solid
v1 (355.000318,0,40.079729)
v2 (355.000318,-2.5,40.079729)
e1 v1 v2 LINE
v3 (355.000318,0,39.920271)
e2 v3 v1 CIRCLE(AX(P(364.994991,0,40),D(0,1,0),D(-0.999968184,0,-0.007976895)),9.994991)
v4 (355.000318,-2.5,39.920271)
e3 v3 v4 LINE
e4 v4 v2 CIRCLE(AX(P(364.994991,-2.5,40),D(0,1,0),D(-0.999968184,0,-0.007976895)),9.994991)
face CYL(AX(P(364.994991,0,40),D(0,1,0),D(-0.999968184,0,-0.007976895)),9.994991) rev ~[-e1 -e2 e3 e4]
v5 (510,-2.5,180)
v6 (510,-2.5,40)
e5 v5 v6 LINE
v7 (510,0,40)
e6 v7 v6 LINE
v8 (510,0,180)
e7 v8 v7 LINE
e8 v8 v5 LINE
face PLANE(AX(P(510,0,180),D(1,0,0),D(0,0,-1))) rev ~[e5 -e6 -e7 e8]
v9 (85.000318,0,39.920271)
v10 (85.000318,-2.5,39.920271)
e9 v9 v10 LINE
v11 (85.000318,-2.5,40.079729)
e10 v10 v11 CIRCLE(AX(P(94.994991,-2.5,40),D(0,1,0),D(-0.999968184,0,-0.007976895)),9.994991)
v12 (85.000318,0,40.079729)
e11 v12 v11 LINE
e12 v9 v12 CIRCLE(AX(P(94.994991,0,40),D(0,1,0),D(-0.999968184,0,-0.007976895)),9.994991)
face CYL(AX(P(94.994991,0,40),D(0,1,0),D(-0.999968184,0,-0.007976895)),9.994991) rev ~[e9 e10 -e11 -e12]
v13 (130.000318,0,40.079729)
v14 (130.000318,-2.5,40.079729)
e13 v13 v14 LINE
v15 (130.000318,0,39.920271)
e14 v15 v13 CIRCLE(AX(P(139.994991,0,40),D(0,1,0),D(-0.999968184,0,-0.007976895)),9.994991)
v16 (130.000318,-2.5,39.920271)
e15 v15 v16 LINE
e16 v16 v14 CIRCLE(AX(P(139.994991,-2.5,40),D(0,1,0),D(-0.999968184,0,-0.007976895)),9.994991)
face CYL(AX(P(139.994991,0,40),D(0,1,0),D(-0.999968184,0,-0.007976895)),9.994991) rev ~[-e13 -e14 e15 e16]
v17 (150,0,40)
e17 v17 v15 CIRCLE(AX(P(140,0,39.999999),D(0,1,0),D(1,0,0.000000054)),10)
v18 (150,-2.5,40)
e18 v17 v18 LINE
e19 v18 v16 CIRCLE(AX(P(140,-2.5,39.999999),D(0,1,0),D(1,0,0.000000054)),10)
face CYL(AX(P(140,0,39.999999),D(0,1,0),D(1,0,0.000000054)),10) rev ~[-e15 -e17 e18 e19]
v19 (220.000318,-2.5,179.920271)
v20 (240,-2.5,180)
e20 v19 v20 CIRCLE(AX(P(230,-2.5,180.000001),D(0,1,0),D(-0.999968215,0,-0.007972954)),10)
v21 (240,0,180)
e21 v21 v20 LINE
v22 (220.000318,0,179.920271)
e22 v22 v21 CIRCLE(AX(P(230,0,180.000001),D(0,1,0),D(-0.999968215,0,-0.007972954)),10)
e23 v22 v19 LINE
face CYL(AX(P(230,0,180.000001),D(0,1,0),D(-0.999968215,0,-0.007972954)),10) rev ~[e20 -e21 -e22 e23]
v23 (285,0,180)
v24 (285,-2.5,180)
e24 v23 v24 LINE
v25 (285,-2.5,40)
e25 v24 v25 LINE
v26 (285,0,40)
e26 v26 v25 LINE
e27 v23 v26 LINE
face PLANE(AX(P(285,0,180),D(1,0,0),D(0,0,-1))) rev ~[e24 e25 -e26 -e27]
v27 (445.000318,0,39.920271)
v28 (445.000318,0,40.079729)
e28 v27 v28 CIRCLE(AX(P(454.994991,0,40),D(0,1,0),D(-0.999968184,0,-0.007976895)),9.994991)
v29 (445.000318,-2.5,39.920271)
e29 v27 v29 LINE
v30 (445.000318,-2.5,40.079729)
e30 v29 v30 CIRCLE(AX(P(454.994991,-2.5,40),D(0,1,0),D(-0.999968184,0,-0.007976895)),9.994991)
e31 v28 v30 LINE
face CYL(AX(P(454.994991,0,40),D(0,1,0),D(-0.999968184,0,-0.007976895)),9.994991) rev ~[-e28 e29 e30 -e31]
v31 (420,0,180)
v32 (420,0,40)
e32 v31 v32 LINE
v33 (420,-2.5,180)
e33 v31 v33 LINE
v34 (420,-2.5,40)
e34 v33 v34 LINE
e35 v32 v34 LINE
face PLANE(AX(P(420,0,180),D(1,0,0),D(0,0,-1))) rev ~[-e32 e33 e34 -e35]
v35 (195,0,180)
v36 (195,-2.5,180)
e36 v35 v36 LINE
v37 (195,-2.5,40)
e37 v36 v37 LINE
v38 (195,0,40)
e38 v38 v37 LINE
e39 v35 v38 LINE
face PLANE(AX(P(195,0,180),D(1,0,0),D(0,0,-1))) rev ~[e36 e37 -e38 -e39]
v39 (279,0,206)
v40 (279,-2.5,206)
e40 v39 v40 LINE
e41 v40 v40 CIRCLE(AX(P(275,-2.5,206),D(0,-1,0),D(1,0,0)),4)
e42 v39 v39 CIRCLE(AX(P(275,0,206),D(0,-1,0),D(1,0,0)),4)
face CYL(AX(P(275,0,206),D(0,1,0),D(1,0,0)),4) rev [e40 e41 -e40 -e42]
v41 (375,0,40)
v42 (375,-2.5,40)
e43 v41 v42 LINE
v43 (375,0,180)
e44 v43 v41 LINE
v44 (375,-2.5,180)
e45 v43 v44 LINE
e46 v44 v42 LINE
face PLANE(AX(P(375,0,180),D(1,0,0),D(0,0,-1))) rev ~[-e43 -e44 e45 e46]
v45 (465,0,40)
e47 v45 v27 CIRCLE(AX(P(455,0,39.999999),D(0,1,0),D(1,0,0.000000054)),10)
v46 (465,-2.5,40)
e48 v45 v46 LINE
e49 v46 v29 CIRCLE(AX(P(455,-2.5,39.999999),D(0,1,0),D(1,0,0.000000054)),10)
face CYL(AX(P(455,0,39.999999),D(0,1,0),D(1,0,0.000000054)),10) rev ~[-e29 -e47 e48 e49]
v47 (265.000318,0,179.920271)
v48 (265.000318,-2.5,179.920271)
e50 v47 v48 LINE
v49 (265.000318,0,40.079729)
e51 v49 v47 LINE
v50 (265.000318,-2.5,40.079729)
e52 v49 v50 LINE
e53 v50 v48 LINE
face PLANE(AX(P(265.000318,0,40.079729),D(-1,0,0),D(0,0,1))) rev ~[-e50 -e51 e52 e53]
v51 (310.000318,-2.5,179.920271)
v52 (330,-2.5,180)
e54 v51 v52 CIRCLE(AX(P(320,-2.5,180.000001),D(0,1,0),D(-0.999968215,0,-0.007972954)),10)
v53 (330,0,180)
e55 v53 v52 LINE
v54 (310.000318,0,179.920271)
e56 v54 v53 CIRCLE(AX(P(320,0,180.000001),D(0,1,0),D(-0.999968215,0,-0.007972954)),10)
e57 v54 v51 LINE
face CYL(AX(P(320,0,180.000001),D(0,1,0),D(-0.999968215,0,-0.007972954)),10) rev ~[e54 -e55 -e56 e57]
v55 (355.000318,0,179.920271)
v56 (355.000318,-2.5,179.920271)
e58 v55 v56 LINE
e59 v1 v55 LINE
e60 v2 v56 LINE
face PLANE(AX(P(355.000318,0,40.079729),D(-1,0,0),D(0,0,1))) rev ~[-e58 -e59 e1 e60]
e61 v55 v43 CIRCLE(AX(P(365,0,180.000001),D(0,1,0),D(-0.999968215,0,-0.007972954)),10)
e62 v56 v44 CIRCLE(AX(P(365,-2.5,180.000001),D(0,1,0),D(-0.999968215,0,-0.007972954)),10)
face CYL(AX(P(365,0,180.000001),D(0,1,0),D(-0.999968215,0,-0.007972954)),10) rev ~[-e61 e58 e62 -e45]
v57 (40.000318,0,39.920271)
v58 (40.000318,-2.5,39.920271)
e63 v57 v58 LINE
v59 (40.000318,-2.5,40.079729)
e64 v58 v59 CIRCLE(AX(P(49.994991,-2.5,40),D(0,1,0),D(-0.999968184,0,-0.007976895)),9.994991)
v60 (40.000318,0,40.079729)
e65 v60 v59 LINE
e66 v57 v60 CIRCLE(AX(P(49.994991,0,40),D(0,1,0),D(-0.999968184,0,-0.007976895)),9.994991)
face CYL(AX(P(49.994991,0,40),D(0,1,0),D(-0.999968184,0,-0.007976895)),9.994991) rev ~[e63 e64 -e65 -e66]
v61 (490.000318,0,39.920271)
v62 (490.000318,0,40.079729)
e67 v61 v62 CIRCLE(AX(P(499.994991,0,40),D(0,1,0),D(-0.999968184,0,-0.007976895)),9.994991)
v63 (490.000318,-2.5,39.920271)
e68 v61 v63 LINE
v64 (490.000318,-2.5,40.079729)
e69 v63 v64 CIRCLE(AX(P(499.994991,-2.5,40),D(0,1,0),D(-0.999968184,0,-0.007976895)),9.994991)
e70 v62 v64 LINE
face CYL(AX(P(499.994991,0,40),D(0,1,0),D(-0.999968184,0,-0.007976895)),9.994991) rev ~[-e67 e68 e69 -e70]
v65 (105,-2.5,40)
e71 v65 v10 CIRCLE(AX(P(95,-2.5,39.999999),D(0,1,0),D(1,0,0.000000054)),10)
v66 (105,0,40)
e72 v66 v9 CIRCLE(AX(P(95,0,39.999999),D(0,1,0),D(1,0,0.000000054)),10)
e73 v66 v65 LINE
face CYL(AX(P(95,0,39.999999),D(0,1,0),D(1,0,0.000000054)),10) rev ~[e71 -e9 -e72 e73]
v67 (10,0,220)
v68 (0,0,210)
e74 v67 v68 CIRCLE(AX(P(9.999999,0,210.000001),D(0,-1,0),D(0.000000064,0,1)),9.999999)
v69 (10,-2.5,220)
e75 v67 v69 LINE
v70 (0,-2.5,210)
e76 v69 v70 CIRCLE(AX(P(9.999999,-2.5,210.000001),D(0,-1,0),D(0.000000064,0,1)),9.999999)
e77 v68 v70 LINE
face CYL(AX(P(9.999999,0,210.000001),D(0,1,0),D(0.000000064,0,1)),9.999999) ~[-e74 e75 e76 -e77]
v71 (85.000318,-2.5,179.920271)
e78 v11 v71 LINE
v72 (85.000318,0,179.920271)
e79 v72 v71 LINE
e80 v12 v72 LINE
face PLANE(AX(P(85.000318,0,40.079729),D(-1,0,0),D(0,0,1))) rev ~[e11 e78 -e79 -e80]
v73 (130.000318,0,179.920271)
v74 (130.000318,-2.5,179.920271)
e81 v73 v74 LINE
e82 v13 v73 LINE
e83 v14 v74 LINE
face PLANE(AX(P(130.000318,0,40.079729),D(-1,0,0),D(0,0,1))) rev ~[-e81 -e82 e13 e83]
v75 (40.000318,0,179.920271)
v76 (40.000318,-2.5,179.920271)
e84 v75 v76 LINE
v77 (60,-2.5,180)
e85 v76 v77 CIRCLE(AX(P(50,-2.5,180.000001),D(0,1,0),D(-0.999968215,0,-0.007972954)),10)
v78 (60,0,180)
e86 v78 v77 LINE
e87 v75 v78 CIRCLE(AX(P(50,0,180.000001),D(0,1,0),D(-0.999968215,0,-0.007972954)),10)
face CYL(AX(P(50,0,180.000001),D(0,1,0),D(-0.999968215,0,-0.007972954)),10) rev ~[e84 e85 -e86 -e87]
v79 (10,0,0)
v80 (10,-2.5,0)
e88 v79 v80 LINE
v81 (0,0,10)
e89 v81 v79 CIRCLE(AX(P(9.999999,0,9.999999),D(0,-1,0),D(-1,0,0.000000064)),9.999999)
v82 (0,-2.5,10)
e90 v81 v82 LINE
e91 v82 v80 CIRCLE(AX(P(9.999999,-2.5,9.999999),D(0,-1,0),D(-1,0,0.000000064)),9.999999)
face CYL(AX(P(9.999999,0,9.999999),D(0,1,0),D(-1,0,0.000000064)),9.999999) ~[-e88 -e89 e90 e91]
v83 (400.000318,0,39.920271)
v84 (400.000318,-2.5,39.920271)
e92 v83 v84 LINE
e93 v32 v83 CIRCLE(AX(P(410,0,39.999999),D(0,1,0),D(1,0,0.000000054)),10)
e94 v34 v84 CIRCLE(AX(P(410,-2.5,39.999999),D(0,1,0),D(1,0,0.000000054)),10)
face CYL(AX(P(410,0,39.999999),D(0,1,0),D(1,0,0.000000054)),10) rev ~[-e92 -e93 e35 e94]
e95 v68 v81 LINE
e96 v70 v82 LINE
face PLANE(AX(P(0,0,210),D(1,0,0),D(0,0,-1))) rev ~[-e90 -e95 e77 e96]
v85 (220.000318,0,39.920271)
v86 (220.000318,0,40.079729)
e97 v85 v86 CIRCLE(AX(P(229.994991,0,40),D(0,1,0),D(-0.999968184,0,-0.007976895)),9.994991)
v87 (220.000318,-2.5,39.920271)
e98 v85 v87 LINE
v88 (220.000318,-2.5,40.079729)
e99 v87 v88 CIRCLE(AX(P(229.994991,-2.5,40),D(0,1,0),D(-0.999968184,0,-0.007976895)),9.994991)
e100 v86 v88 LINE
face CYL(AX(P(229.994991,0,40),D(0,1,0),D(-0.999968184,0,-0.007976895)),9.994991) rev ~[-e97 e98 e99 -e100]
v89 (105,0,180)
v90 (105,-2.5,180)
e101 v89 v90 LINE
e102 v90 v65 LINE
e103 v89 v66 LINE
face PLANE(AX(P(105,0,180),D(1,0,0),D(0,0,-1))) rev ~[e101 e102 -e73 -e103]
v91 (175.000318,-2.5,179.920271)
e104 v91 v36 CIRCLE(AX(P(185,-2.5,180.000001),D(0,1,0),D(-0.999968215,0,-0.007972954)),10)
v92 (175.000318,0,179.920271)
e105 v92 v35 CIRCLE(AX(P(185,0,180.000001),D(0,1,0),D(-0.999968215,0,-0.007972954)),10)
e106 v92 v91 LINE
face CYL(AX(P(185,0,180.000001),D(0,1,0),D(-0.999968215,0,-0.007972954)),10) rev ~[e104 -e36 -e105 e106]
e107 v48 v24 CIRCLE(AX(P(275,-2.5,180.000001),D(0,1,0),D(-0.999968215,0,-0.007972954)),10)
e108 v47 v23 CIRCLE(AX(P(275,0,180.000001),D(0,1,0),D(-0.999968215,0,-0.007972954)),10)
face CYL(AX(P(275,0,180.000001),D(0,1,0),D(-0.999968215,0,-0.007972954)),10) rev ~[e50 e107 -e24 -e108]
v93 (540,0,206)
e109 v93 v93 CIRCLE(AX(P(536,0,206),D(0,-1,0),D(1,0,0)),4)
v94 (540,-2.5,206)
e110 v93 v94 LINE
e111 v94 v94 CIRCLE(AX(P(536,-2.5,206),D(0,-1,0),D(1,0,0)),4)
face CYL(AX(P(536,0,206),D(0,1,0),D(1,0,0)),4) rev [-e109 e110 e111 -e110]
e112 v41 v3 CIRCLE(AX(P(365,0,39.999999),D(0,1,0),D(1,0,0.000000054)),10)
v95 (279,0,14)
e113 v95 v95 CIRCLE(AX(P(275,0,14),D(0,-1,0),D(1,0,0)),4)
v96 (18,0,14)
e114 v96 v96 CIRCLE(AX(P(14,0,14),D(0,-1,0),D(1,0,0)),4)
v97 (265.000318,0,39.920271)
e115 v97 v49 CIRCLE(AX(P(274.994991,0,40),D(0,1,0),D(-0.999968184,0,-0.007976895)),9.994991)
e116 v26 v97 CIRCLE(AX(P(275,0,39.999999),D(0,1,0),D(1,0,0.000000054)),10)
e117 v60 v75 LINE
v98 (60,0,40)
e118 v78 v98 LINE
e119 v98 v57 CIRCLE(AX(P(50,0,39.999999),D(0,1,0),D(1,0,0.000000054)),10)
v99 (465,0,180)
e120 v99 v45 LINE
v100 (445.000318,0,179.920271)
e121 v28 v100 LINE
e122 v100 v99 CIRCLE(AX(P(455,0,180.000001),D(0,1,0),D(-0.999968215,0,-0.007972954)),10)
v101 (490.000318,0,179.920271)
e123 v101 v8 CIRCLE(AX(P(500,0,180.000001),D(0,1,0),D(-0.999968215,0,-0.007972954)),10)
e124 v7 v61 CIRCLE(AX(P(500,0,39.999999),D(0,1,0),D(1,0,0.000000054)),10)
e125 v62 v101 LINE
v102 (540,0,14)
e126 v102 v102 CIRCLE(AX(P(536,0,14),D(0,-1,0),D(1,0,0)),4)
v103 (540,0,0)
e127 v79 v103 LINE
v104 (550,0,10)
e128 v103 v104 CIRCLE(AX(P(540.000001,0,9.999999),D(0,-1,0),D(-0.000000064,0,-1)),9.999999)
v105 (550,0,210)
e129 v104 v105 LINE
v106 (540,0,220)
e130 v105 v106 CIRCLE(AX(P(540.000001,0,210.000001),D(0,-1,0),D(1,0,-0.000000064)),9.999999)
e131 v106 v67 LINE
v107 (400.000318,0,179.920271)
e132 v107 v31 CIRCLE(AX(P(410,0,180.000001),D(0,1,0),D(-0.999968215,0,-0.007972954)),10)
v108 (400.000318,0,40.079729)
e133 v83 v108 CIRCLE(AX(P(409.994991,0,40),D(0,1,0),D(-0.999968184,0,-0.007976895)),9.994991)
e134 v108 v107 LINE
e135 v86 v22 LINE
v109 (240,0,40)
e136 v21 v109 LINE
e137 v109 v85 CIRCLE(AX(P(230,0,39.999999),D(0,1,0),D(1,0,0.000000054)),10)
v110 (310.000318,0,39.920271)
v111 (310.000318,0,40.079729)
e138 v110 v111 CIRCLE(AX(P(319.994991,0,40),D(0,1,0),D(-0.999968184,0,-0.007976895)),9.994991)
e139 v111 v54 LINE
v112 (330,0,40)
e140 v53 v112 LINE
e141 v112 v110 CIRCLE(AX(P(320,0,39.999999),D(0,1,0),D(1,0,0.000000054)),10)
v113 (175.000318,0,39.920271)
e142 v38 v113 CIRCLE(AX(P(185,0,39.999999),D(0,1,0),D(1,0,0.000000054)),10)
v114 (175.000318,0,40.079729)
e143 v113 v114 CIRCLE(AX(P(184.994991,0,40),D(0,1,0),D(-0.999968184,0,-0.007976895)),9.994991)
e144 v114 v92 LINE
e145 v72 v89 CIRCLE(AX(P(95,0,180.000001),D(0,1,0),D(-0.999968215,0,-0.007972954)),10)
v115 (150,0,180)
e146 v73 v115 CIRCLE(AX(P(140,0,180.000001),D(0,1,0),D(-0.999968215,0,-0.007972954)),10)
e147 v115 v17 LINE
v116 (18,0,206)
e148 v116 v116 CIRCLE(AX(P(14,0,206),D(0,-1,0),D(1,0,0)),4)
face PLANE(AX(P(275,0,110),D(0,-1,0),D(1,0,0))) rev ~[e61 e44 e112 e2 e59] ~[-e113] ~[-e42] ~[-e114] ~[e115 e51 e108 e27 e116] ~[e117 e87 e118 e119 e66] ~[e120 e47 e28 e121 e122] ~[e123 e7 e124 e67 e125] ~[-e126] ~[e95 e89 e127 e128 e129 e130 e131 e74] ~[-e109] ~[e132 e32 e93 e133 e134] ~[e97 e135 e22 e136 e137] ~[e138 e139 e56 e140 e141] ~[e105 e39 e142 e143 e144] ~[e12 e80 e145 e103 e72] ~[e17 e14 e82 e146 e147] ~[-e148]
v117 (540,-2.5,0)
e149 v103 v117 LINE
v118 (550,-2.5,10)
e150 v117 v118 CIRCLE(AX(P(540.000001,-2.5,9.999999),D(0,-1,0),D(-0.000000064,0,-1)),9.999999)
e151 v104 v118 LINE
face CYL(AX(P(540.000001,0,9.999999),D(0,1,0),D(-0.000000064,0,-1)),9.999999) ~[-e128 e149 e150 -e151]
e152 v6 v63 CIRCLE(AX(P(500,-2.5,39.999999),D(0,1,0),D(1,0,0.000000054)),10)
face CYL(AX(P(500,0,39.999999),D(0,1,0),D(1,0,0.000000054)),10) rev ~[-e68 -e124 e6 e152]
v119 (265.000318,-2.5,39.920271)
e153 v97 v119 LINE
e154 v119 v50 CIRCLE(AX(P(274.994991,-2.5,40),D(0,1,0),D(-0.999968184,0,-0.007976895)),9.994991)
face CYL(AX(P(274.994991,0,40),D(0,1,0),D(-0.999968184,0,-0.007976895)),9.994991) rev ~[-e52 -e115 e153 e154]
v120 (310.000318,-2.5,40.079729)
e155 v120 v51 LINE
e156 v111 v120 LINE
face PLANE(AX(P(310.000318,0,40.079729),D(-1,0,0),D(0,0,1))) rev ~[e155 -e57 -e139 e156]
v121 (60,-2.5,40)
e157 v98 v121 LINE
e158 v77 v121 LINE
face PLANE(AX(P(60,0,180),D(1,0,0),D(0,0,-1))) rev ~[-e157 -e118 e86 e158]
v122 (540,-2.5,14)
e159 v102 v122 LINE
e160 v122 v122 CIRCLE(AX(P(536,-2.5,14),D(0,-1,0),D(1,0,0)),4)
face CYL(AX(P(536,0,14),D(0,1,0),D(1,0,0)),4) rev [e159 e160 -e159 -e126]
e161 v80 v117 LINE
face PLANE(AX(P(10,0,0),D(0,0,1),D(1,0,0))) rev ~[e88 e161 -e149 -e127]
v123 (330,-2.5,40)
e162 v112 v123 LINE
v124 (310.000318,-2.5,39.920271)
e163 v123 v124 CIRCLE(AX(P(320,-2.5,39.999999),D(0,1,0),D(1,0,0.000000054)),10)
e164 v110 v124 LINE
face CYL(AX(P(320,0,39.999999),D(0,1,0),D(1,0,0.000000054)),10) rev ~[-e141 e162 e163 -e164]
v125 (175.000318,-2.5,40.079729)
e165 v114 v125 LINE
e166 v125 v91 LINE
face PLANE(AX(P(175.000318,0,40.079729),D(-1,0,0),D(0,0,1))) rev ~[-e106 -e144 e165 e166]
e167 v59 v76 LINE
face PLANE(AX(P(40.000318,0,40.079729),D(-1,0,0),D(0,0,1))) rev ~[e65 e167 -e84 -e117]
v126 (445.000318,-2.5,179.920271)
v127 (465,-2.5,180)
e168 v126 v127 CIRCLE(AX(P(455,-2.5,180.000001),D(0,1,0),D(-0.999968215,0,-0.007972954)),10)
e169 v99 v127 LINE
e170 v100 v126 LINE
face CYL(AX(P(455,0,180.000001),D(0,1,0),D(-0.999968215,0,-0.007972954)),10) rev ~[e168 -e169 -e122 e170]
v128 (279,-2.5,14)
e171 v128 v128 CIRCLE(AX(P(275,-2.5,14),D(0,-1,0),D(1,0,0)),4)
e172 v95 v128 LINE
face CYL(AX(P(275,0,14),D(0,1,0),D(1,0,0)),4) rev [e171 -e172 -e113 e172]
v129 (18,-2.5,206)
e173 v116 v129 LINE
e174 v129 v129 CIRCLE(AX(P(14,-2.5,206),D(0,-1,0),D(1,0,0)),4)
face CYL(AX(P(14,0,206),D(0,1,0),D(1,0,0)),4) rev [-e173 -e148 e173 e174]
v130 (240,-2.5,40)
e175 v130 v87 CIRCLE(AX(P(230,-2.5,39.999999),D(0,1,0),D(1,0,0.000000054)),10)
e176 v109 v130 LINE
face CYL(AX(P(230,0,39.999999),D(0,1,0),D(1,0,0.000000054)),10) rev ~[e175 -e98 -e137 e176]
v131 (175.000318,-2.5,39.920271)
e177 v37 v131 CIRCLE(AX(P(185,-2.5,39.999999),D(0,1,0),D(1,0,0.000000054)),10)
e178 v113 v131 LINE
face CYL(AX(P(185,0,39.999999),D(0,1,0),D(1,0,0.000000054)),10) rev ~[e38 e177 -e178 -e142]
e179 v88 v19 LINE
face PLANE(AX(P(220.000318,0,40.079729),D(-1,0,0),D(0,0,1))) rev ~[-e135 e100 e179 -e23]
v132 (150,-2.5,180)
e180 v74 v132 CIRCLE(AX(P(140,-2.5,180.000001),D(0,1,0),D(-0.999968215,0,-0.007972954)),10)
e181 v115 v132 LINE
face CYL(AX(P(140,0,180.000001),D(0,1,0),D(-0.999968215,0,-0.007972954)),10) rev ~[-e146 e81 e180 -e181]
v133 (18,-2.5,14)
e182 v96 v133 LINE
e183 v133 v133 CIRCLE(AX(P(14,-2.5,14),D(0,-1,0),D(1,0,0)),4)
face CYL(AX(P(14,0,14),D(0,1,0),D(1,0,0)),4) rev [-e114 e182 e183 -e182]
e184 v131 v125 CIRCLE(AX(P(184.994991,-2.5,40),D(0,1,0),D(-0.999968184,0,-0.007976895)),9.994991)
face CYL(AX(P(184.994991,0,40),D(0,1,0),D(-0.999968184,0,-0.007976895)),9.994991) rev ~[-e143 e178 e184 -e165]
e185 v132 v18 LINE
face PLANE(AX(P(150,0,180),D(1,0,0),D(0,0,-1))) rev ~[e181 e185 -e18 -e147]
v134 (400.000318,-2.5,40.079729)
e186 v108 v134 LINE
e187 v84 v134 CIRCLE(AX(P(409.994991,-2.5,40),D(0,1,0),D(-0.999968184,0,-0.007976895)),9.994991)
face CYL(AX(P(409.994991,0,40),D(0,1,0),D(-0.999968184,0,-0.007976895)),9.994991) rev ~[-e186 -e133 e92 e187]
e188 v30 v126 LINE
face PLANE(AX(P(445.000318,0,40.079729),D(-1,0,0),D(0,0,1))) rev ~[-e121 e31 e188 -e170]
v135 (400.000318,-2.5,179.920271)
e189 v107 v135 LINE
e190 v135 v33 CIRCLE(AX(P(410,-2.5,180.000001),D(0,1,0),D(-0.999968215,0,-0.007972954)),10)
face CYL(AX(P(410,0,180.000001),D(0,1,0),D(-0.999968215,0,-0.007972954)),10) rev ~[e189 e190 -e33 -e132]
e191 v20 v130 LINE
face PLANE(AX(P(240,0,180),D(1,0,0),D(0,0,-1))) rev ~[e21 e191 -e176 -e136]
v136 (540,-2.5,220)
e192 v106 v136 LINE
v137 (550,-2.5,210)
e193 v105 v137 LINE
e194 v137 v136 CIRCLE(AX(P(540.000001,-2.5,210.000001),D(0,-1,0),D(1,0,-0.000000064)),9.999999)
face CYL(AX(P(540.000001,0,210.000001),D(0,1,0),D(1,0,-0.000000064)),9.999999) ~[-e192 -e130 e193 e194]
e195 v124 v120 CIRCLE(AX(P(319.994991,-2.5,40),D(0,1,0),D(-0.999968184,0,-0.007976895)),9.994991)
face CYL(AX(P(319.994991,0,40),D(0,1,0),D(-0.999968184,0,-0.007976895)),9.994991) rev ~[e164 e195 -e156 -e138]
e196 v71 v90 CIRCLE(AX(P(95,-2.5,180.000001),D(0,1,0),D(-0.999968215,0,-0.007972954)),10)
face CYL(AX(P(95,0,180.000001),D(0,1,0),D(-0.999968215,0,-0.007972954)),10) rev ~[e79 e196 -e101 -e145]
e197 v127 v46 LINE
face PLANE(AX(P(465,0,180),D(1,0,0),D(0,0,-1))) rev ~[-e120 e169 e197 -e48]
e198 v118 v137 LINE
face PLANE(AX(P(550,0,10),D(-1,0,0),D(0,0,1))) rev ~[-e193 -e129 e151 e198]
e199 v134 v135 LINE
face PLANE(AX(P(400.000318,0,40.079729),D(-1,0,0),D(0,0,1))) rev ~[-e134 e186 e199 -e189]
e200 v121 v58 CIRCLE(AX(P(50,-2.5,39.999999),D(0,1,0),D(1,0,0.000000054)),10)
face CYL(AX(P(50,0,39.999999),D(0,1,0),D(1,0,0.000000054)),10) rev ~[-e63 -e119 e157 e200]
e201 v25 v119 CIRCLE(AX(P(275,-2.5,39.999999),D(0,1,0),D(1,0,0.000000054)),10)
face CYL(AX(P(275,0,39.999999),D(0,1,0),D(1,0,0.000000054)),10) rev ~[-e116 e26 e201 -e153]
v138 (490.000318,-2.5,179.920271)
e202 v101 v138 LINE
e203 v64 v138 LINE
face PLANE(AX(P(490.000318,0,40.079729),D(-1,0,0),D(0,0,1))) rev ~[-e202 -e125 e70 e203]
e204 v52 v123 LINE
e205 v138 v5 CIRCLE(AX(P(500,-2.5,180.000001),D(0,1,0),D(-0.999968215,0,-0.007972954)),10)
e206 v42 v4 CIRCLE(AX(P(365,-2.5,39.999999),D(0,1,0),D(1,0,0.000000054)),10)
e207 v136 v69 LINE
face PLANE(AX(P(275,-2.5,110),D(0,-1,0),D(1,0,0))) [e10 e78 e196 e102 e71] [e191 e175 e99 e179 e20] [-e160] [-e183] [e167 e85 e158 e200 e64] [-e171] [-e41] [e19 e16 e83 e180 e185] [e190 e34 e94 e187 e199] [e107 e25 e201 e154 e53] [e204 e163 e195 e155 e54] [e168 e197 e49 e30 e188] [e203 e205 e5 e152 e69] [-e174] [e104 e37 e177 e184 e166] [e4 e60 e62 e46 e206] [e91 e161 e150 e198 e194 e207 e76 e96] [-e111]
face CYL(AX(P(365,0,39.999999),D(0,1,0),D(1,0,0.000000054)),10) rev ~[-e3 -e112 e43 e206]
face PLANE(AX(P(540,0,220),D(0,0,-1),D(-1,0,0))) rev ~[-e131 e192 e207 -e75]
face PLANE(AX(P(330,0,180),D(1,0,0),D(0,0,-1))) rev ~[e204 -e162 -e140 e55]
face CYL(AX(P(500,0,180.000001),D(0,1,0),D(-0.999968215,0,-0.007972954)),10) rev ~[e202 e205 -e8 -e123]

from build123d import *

# Parameters (mm, degrees)
F0_R     = 4
F1_DEPTH = 2.5


with BuildPart() as f1:
    # F0 (on Front) → F1 (new body)
    with BuildSketch(Plane.XZ):
        with BuildLine():
            ThreePointArc((0, 10), (2.928932, 2.928932), (10, 0))
            Line((10, 0), (540, 0))
            ThreePointArc((540, 0), (547.071068, 2.928932), (550, 10))
            Line((550, 10), (550, 210))
            ThreePointArc((550, 210), (547.071068, 217.071068), (540, 220))
            Line((540, 220), (10, 220))
            ThreePointArc((10, 220), (2.928932, 217.071068), (0, 210))
            Line((0, 210), (0, 10))
        make_face()
        with Locations((14, 14)):
            Circle(F0_R, mode=Mode.SUBTRACT)
        with BuildLine():
            Line((220.000318, 40.079729), (220.000318, 179.920271))
            ThreePointArc((220.000318, 179.920271), (229.960135, 189.999921), (240, 180))
            Line((240, 180), (240, 40))
            ThreePointArc((240, 40), (230.039865, 30.000079), (220.000318, 39.920271))
            ThreePointArc((220.000318, 39.920271), (220, 40), (220.000318, 40.079729))
        make_face(mode=Mode.SUBTRACT)
        with Locations((275, 14)):
            Circle(F0_R, mode=Mode.SUBTRACT)
        with Locations((536, 14)):
            Circle(F0_R, mode=Mode.SUBTRACT)
        with BuildLine():
            Line((265.000318, 40.079729), (265.000318, 179.920271))
            ThreePointArc((265.000318, 179.920271), (274.960135, 189.999921), (285, 180))
            Line((285, 180), (285, 40))
            ThreePointArc((285, 40), (275.039865, 30.000079), (265.000318, 39.920271))
            ThreePointArc((265.000318, 39.920271), (265, 40), (265.000318, 40.079729))
        make_face(mode=Mode.SUBTRACT)
        with BuildLine():
            ThreePointArc((40.000318, 179.920271), (49.960135, 189.999921), (60, 180))
            Line((60, 180), (60, 40))
            ThreePointArc((60, 40), (50.039865, 30.000079), (40.000318, 39.920271))
            ThreePointArc((40.000318, 39.920271), (40, 40), (40.000318, 40.079729))
            Line((40.000318, 40.079729), (40.000318, 179.920271))
        make_face(mode=Mode.SUBTRACT)
        with BuildLine():
            Line((85.000318, 40.079729), (85.000318, 179.920271))
            ThreePointArc((85.000318, 179.920271), (94.960135, 189.999921), (105, 180))
            Line((105, 180), (105, 40))
            ThreePointArc((105, 40), (95.039865, 30.000079), (85.000318, 39.920271))
            ThreePointArc((85.000318, 39.920271), (85, 40), (85.000318, 40.079729))
        make_face(mode=Mode.SUBTRACT)
        with BuildLine():
            Line((130.000318, 40.079729), (130.000318, 179.920271))
            ThreePointArc((130.000318, 179.920271), (139.960135, 189.999921), (150, 180))
            Line((150, 180), (150, 40))
            ThreePointArc((150, 40), (140.039865, 30.000079), (130.000318, 39.920271))
            ThreePointArc((130.000318, 39.920271), (130, 40), (130.000318, 40.079729))
        make_face(mode=Mode.SUBTRACT)
        with BuildLine():
            Line((175.000318, 40.079729), (175.000318, 179.920271))
            ThreePointArc((175.000318, 179.920271), (184.960135, 189.999921), (195, 180))
            Line((195, 180), (195, 40))
            ThreePointArc((195, 40), (185.039865, 30.000079), (175.000318, 39.920271))
            ThreePointArc((175.000318, 39.920271), (175, 40), (175.000318, 40.079729))
        make_face(mode=Mode.SUBTRACT)
        with Locations((14, 206)):
            Circle(F0_R, mode=Mode.SUBTRACT)
        with BuildLine():
            Line((310.000318, 40.079729), (310.000318, 179.920271))
            ThreePointArc((310.000318, 179.920271), (319.960135, 189.999921), (330, 180))
            Line((330, 180), (330, 40))
            ThreePointArc((330, 40), (320.039865, 30.000079), (310.000318, 39.920271))
            ThreePointArc((310.000318, 39.920271), (310, 40), (310.000318, 40.079729))
        make_face(mode=Mode.SUBTRACT)
        with BuildLine():
            Line((355.000318, 40.079729), (355.000318, 179.920271))
            ThreePointArc((355.000318, 179.920271), (364.960135, 189.999921), (375, 180))
            Line((375, 180), (375, 40))
            ThreePointArc((375, 40), (365.039865, 30.000079), (355.000318, 39.920271))
            ThreePointArc((355.000318, 39.920271), (355, 40), (355.000318, 40.079729))
        make_face(mode=Mode.SUBTRACT)
        with BuildLine():
            Line((400.000318, 40.079729), (400.000318, 179.920271))
            ThreePointArc((400.000318, 179.920271), (409.960135, 189.999921), (420, 180))
            Line((420, 180), (420, 40))
            ThreePointArc((420, 40), (410.039865, 30.000079), (400.000318, 39.920271))
            ThreePointArc((400.000318, 39.920271), (400, 40), (400.000318, 40.079729))
        make_face(mode=Mode.SUBTRACT)
        with BuildLine():
            Line((445.000318, 40.079729), (445.000318, 179.920271))
            ThreePointArc((445.000318, 179.920271), (454.960135, 189.999921), (465, 180))
            Line((465, 180), (465, 40))
            ThreePointArc((465, 40), (455.039865, 30.000079), (445.000318, 39.920271))
            ThreePointArc((445.000318, 39.920271), (445, 40), (445.000318, 40.079729))
        make_face(mode=Mode.SUBTRACT)
        with BuildLine():
            Line((490.000318, 40.079729), (490.000318, 179.920271))
            ThreePointArc((490.000318, 179.920271), (499.960135, 189.999921), (510, 180))
            Line((510, 180), (510, 40))
            ThreePointArc((510, 40), (500.039865, 30.000079), (490.000318, 39.920271))
            ThreePointArc((490.000318, 39.920271), (490, 40), (490.000318, 40.079729))
        make_face(mode=Mode.SUBTRACT)
        with Locations((275, 206)):
            Circle(F0_R, mode=Mode.SUBTRACT)
        with Locations((536, 206)):
            Circle(F0_R, mode=Mode.SUBTRACT)
    extrude(amount=F1_DEPTH)


solid = f1.part
